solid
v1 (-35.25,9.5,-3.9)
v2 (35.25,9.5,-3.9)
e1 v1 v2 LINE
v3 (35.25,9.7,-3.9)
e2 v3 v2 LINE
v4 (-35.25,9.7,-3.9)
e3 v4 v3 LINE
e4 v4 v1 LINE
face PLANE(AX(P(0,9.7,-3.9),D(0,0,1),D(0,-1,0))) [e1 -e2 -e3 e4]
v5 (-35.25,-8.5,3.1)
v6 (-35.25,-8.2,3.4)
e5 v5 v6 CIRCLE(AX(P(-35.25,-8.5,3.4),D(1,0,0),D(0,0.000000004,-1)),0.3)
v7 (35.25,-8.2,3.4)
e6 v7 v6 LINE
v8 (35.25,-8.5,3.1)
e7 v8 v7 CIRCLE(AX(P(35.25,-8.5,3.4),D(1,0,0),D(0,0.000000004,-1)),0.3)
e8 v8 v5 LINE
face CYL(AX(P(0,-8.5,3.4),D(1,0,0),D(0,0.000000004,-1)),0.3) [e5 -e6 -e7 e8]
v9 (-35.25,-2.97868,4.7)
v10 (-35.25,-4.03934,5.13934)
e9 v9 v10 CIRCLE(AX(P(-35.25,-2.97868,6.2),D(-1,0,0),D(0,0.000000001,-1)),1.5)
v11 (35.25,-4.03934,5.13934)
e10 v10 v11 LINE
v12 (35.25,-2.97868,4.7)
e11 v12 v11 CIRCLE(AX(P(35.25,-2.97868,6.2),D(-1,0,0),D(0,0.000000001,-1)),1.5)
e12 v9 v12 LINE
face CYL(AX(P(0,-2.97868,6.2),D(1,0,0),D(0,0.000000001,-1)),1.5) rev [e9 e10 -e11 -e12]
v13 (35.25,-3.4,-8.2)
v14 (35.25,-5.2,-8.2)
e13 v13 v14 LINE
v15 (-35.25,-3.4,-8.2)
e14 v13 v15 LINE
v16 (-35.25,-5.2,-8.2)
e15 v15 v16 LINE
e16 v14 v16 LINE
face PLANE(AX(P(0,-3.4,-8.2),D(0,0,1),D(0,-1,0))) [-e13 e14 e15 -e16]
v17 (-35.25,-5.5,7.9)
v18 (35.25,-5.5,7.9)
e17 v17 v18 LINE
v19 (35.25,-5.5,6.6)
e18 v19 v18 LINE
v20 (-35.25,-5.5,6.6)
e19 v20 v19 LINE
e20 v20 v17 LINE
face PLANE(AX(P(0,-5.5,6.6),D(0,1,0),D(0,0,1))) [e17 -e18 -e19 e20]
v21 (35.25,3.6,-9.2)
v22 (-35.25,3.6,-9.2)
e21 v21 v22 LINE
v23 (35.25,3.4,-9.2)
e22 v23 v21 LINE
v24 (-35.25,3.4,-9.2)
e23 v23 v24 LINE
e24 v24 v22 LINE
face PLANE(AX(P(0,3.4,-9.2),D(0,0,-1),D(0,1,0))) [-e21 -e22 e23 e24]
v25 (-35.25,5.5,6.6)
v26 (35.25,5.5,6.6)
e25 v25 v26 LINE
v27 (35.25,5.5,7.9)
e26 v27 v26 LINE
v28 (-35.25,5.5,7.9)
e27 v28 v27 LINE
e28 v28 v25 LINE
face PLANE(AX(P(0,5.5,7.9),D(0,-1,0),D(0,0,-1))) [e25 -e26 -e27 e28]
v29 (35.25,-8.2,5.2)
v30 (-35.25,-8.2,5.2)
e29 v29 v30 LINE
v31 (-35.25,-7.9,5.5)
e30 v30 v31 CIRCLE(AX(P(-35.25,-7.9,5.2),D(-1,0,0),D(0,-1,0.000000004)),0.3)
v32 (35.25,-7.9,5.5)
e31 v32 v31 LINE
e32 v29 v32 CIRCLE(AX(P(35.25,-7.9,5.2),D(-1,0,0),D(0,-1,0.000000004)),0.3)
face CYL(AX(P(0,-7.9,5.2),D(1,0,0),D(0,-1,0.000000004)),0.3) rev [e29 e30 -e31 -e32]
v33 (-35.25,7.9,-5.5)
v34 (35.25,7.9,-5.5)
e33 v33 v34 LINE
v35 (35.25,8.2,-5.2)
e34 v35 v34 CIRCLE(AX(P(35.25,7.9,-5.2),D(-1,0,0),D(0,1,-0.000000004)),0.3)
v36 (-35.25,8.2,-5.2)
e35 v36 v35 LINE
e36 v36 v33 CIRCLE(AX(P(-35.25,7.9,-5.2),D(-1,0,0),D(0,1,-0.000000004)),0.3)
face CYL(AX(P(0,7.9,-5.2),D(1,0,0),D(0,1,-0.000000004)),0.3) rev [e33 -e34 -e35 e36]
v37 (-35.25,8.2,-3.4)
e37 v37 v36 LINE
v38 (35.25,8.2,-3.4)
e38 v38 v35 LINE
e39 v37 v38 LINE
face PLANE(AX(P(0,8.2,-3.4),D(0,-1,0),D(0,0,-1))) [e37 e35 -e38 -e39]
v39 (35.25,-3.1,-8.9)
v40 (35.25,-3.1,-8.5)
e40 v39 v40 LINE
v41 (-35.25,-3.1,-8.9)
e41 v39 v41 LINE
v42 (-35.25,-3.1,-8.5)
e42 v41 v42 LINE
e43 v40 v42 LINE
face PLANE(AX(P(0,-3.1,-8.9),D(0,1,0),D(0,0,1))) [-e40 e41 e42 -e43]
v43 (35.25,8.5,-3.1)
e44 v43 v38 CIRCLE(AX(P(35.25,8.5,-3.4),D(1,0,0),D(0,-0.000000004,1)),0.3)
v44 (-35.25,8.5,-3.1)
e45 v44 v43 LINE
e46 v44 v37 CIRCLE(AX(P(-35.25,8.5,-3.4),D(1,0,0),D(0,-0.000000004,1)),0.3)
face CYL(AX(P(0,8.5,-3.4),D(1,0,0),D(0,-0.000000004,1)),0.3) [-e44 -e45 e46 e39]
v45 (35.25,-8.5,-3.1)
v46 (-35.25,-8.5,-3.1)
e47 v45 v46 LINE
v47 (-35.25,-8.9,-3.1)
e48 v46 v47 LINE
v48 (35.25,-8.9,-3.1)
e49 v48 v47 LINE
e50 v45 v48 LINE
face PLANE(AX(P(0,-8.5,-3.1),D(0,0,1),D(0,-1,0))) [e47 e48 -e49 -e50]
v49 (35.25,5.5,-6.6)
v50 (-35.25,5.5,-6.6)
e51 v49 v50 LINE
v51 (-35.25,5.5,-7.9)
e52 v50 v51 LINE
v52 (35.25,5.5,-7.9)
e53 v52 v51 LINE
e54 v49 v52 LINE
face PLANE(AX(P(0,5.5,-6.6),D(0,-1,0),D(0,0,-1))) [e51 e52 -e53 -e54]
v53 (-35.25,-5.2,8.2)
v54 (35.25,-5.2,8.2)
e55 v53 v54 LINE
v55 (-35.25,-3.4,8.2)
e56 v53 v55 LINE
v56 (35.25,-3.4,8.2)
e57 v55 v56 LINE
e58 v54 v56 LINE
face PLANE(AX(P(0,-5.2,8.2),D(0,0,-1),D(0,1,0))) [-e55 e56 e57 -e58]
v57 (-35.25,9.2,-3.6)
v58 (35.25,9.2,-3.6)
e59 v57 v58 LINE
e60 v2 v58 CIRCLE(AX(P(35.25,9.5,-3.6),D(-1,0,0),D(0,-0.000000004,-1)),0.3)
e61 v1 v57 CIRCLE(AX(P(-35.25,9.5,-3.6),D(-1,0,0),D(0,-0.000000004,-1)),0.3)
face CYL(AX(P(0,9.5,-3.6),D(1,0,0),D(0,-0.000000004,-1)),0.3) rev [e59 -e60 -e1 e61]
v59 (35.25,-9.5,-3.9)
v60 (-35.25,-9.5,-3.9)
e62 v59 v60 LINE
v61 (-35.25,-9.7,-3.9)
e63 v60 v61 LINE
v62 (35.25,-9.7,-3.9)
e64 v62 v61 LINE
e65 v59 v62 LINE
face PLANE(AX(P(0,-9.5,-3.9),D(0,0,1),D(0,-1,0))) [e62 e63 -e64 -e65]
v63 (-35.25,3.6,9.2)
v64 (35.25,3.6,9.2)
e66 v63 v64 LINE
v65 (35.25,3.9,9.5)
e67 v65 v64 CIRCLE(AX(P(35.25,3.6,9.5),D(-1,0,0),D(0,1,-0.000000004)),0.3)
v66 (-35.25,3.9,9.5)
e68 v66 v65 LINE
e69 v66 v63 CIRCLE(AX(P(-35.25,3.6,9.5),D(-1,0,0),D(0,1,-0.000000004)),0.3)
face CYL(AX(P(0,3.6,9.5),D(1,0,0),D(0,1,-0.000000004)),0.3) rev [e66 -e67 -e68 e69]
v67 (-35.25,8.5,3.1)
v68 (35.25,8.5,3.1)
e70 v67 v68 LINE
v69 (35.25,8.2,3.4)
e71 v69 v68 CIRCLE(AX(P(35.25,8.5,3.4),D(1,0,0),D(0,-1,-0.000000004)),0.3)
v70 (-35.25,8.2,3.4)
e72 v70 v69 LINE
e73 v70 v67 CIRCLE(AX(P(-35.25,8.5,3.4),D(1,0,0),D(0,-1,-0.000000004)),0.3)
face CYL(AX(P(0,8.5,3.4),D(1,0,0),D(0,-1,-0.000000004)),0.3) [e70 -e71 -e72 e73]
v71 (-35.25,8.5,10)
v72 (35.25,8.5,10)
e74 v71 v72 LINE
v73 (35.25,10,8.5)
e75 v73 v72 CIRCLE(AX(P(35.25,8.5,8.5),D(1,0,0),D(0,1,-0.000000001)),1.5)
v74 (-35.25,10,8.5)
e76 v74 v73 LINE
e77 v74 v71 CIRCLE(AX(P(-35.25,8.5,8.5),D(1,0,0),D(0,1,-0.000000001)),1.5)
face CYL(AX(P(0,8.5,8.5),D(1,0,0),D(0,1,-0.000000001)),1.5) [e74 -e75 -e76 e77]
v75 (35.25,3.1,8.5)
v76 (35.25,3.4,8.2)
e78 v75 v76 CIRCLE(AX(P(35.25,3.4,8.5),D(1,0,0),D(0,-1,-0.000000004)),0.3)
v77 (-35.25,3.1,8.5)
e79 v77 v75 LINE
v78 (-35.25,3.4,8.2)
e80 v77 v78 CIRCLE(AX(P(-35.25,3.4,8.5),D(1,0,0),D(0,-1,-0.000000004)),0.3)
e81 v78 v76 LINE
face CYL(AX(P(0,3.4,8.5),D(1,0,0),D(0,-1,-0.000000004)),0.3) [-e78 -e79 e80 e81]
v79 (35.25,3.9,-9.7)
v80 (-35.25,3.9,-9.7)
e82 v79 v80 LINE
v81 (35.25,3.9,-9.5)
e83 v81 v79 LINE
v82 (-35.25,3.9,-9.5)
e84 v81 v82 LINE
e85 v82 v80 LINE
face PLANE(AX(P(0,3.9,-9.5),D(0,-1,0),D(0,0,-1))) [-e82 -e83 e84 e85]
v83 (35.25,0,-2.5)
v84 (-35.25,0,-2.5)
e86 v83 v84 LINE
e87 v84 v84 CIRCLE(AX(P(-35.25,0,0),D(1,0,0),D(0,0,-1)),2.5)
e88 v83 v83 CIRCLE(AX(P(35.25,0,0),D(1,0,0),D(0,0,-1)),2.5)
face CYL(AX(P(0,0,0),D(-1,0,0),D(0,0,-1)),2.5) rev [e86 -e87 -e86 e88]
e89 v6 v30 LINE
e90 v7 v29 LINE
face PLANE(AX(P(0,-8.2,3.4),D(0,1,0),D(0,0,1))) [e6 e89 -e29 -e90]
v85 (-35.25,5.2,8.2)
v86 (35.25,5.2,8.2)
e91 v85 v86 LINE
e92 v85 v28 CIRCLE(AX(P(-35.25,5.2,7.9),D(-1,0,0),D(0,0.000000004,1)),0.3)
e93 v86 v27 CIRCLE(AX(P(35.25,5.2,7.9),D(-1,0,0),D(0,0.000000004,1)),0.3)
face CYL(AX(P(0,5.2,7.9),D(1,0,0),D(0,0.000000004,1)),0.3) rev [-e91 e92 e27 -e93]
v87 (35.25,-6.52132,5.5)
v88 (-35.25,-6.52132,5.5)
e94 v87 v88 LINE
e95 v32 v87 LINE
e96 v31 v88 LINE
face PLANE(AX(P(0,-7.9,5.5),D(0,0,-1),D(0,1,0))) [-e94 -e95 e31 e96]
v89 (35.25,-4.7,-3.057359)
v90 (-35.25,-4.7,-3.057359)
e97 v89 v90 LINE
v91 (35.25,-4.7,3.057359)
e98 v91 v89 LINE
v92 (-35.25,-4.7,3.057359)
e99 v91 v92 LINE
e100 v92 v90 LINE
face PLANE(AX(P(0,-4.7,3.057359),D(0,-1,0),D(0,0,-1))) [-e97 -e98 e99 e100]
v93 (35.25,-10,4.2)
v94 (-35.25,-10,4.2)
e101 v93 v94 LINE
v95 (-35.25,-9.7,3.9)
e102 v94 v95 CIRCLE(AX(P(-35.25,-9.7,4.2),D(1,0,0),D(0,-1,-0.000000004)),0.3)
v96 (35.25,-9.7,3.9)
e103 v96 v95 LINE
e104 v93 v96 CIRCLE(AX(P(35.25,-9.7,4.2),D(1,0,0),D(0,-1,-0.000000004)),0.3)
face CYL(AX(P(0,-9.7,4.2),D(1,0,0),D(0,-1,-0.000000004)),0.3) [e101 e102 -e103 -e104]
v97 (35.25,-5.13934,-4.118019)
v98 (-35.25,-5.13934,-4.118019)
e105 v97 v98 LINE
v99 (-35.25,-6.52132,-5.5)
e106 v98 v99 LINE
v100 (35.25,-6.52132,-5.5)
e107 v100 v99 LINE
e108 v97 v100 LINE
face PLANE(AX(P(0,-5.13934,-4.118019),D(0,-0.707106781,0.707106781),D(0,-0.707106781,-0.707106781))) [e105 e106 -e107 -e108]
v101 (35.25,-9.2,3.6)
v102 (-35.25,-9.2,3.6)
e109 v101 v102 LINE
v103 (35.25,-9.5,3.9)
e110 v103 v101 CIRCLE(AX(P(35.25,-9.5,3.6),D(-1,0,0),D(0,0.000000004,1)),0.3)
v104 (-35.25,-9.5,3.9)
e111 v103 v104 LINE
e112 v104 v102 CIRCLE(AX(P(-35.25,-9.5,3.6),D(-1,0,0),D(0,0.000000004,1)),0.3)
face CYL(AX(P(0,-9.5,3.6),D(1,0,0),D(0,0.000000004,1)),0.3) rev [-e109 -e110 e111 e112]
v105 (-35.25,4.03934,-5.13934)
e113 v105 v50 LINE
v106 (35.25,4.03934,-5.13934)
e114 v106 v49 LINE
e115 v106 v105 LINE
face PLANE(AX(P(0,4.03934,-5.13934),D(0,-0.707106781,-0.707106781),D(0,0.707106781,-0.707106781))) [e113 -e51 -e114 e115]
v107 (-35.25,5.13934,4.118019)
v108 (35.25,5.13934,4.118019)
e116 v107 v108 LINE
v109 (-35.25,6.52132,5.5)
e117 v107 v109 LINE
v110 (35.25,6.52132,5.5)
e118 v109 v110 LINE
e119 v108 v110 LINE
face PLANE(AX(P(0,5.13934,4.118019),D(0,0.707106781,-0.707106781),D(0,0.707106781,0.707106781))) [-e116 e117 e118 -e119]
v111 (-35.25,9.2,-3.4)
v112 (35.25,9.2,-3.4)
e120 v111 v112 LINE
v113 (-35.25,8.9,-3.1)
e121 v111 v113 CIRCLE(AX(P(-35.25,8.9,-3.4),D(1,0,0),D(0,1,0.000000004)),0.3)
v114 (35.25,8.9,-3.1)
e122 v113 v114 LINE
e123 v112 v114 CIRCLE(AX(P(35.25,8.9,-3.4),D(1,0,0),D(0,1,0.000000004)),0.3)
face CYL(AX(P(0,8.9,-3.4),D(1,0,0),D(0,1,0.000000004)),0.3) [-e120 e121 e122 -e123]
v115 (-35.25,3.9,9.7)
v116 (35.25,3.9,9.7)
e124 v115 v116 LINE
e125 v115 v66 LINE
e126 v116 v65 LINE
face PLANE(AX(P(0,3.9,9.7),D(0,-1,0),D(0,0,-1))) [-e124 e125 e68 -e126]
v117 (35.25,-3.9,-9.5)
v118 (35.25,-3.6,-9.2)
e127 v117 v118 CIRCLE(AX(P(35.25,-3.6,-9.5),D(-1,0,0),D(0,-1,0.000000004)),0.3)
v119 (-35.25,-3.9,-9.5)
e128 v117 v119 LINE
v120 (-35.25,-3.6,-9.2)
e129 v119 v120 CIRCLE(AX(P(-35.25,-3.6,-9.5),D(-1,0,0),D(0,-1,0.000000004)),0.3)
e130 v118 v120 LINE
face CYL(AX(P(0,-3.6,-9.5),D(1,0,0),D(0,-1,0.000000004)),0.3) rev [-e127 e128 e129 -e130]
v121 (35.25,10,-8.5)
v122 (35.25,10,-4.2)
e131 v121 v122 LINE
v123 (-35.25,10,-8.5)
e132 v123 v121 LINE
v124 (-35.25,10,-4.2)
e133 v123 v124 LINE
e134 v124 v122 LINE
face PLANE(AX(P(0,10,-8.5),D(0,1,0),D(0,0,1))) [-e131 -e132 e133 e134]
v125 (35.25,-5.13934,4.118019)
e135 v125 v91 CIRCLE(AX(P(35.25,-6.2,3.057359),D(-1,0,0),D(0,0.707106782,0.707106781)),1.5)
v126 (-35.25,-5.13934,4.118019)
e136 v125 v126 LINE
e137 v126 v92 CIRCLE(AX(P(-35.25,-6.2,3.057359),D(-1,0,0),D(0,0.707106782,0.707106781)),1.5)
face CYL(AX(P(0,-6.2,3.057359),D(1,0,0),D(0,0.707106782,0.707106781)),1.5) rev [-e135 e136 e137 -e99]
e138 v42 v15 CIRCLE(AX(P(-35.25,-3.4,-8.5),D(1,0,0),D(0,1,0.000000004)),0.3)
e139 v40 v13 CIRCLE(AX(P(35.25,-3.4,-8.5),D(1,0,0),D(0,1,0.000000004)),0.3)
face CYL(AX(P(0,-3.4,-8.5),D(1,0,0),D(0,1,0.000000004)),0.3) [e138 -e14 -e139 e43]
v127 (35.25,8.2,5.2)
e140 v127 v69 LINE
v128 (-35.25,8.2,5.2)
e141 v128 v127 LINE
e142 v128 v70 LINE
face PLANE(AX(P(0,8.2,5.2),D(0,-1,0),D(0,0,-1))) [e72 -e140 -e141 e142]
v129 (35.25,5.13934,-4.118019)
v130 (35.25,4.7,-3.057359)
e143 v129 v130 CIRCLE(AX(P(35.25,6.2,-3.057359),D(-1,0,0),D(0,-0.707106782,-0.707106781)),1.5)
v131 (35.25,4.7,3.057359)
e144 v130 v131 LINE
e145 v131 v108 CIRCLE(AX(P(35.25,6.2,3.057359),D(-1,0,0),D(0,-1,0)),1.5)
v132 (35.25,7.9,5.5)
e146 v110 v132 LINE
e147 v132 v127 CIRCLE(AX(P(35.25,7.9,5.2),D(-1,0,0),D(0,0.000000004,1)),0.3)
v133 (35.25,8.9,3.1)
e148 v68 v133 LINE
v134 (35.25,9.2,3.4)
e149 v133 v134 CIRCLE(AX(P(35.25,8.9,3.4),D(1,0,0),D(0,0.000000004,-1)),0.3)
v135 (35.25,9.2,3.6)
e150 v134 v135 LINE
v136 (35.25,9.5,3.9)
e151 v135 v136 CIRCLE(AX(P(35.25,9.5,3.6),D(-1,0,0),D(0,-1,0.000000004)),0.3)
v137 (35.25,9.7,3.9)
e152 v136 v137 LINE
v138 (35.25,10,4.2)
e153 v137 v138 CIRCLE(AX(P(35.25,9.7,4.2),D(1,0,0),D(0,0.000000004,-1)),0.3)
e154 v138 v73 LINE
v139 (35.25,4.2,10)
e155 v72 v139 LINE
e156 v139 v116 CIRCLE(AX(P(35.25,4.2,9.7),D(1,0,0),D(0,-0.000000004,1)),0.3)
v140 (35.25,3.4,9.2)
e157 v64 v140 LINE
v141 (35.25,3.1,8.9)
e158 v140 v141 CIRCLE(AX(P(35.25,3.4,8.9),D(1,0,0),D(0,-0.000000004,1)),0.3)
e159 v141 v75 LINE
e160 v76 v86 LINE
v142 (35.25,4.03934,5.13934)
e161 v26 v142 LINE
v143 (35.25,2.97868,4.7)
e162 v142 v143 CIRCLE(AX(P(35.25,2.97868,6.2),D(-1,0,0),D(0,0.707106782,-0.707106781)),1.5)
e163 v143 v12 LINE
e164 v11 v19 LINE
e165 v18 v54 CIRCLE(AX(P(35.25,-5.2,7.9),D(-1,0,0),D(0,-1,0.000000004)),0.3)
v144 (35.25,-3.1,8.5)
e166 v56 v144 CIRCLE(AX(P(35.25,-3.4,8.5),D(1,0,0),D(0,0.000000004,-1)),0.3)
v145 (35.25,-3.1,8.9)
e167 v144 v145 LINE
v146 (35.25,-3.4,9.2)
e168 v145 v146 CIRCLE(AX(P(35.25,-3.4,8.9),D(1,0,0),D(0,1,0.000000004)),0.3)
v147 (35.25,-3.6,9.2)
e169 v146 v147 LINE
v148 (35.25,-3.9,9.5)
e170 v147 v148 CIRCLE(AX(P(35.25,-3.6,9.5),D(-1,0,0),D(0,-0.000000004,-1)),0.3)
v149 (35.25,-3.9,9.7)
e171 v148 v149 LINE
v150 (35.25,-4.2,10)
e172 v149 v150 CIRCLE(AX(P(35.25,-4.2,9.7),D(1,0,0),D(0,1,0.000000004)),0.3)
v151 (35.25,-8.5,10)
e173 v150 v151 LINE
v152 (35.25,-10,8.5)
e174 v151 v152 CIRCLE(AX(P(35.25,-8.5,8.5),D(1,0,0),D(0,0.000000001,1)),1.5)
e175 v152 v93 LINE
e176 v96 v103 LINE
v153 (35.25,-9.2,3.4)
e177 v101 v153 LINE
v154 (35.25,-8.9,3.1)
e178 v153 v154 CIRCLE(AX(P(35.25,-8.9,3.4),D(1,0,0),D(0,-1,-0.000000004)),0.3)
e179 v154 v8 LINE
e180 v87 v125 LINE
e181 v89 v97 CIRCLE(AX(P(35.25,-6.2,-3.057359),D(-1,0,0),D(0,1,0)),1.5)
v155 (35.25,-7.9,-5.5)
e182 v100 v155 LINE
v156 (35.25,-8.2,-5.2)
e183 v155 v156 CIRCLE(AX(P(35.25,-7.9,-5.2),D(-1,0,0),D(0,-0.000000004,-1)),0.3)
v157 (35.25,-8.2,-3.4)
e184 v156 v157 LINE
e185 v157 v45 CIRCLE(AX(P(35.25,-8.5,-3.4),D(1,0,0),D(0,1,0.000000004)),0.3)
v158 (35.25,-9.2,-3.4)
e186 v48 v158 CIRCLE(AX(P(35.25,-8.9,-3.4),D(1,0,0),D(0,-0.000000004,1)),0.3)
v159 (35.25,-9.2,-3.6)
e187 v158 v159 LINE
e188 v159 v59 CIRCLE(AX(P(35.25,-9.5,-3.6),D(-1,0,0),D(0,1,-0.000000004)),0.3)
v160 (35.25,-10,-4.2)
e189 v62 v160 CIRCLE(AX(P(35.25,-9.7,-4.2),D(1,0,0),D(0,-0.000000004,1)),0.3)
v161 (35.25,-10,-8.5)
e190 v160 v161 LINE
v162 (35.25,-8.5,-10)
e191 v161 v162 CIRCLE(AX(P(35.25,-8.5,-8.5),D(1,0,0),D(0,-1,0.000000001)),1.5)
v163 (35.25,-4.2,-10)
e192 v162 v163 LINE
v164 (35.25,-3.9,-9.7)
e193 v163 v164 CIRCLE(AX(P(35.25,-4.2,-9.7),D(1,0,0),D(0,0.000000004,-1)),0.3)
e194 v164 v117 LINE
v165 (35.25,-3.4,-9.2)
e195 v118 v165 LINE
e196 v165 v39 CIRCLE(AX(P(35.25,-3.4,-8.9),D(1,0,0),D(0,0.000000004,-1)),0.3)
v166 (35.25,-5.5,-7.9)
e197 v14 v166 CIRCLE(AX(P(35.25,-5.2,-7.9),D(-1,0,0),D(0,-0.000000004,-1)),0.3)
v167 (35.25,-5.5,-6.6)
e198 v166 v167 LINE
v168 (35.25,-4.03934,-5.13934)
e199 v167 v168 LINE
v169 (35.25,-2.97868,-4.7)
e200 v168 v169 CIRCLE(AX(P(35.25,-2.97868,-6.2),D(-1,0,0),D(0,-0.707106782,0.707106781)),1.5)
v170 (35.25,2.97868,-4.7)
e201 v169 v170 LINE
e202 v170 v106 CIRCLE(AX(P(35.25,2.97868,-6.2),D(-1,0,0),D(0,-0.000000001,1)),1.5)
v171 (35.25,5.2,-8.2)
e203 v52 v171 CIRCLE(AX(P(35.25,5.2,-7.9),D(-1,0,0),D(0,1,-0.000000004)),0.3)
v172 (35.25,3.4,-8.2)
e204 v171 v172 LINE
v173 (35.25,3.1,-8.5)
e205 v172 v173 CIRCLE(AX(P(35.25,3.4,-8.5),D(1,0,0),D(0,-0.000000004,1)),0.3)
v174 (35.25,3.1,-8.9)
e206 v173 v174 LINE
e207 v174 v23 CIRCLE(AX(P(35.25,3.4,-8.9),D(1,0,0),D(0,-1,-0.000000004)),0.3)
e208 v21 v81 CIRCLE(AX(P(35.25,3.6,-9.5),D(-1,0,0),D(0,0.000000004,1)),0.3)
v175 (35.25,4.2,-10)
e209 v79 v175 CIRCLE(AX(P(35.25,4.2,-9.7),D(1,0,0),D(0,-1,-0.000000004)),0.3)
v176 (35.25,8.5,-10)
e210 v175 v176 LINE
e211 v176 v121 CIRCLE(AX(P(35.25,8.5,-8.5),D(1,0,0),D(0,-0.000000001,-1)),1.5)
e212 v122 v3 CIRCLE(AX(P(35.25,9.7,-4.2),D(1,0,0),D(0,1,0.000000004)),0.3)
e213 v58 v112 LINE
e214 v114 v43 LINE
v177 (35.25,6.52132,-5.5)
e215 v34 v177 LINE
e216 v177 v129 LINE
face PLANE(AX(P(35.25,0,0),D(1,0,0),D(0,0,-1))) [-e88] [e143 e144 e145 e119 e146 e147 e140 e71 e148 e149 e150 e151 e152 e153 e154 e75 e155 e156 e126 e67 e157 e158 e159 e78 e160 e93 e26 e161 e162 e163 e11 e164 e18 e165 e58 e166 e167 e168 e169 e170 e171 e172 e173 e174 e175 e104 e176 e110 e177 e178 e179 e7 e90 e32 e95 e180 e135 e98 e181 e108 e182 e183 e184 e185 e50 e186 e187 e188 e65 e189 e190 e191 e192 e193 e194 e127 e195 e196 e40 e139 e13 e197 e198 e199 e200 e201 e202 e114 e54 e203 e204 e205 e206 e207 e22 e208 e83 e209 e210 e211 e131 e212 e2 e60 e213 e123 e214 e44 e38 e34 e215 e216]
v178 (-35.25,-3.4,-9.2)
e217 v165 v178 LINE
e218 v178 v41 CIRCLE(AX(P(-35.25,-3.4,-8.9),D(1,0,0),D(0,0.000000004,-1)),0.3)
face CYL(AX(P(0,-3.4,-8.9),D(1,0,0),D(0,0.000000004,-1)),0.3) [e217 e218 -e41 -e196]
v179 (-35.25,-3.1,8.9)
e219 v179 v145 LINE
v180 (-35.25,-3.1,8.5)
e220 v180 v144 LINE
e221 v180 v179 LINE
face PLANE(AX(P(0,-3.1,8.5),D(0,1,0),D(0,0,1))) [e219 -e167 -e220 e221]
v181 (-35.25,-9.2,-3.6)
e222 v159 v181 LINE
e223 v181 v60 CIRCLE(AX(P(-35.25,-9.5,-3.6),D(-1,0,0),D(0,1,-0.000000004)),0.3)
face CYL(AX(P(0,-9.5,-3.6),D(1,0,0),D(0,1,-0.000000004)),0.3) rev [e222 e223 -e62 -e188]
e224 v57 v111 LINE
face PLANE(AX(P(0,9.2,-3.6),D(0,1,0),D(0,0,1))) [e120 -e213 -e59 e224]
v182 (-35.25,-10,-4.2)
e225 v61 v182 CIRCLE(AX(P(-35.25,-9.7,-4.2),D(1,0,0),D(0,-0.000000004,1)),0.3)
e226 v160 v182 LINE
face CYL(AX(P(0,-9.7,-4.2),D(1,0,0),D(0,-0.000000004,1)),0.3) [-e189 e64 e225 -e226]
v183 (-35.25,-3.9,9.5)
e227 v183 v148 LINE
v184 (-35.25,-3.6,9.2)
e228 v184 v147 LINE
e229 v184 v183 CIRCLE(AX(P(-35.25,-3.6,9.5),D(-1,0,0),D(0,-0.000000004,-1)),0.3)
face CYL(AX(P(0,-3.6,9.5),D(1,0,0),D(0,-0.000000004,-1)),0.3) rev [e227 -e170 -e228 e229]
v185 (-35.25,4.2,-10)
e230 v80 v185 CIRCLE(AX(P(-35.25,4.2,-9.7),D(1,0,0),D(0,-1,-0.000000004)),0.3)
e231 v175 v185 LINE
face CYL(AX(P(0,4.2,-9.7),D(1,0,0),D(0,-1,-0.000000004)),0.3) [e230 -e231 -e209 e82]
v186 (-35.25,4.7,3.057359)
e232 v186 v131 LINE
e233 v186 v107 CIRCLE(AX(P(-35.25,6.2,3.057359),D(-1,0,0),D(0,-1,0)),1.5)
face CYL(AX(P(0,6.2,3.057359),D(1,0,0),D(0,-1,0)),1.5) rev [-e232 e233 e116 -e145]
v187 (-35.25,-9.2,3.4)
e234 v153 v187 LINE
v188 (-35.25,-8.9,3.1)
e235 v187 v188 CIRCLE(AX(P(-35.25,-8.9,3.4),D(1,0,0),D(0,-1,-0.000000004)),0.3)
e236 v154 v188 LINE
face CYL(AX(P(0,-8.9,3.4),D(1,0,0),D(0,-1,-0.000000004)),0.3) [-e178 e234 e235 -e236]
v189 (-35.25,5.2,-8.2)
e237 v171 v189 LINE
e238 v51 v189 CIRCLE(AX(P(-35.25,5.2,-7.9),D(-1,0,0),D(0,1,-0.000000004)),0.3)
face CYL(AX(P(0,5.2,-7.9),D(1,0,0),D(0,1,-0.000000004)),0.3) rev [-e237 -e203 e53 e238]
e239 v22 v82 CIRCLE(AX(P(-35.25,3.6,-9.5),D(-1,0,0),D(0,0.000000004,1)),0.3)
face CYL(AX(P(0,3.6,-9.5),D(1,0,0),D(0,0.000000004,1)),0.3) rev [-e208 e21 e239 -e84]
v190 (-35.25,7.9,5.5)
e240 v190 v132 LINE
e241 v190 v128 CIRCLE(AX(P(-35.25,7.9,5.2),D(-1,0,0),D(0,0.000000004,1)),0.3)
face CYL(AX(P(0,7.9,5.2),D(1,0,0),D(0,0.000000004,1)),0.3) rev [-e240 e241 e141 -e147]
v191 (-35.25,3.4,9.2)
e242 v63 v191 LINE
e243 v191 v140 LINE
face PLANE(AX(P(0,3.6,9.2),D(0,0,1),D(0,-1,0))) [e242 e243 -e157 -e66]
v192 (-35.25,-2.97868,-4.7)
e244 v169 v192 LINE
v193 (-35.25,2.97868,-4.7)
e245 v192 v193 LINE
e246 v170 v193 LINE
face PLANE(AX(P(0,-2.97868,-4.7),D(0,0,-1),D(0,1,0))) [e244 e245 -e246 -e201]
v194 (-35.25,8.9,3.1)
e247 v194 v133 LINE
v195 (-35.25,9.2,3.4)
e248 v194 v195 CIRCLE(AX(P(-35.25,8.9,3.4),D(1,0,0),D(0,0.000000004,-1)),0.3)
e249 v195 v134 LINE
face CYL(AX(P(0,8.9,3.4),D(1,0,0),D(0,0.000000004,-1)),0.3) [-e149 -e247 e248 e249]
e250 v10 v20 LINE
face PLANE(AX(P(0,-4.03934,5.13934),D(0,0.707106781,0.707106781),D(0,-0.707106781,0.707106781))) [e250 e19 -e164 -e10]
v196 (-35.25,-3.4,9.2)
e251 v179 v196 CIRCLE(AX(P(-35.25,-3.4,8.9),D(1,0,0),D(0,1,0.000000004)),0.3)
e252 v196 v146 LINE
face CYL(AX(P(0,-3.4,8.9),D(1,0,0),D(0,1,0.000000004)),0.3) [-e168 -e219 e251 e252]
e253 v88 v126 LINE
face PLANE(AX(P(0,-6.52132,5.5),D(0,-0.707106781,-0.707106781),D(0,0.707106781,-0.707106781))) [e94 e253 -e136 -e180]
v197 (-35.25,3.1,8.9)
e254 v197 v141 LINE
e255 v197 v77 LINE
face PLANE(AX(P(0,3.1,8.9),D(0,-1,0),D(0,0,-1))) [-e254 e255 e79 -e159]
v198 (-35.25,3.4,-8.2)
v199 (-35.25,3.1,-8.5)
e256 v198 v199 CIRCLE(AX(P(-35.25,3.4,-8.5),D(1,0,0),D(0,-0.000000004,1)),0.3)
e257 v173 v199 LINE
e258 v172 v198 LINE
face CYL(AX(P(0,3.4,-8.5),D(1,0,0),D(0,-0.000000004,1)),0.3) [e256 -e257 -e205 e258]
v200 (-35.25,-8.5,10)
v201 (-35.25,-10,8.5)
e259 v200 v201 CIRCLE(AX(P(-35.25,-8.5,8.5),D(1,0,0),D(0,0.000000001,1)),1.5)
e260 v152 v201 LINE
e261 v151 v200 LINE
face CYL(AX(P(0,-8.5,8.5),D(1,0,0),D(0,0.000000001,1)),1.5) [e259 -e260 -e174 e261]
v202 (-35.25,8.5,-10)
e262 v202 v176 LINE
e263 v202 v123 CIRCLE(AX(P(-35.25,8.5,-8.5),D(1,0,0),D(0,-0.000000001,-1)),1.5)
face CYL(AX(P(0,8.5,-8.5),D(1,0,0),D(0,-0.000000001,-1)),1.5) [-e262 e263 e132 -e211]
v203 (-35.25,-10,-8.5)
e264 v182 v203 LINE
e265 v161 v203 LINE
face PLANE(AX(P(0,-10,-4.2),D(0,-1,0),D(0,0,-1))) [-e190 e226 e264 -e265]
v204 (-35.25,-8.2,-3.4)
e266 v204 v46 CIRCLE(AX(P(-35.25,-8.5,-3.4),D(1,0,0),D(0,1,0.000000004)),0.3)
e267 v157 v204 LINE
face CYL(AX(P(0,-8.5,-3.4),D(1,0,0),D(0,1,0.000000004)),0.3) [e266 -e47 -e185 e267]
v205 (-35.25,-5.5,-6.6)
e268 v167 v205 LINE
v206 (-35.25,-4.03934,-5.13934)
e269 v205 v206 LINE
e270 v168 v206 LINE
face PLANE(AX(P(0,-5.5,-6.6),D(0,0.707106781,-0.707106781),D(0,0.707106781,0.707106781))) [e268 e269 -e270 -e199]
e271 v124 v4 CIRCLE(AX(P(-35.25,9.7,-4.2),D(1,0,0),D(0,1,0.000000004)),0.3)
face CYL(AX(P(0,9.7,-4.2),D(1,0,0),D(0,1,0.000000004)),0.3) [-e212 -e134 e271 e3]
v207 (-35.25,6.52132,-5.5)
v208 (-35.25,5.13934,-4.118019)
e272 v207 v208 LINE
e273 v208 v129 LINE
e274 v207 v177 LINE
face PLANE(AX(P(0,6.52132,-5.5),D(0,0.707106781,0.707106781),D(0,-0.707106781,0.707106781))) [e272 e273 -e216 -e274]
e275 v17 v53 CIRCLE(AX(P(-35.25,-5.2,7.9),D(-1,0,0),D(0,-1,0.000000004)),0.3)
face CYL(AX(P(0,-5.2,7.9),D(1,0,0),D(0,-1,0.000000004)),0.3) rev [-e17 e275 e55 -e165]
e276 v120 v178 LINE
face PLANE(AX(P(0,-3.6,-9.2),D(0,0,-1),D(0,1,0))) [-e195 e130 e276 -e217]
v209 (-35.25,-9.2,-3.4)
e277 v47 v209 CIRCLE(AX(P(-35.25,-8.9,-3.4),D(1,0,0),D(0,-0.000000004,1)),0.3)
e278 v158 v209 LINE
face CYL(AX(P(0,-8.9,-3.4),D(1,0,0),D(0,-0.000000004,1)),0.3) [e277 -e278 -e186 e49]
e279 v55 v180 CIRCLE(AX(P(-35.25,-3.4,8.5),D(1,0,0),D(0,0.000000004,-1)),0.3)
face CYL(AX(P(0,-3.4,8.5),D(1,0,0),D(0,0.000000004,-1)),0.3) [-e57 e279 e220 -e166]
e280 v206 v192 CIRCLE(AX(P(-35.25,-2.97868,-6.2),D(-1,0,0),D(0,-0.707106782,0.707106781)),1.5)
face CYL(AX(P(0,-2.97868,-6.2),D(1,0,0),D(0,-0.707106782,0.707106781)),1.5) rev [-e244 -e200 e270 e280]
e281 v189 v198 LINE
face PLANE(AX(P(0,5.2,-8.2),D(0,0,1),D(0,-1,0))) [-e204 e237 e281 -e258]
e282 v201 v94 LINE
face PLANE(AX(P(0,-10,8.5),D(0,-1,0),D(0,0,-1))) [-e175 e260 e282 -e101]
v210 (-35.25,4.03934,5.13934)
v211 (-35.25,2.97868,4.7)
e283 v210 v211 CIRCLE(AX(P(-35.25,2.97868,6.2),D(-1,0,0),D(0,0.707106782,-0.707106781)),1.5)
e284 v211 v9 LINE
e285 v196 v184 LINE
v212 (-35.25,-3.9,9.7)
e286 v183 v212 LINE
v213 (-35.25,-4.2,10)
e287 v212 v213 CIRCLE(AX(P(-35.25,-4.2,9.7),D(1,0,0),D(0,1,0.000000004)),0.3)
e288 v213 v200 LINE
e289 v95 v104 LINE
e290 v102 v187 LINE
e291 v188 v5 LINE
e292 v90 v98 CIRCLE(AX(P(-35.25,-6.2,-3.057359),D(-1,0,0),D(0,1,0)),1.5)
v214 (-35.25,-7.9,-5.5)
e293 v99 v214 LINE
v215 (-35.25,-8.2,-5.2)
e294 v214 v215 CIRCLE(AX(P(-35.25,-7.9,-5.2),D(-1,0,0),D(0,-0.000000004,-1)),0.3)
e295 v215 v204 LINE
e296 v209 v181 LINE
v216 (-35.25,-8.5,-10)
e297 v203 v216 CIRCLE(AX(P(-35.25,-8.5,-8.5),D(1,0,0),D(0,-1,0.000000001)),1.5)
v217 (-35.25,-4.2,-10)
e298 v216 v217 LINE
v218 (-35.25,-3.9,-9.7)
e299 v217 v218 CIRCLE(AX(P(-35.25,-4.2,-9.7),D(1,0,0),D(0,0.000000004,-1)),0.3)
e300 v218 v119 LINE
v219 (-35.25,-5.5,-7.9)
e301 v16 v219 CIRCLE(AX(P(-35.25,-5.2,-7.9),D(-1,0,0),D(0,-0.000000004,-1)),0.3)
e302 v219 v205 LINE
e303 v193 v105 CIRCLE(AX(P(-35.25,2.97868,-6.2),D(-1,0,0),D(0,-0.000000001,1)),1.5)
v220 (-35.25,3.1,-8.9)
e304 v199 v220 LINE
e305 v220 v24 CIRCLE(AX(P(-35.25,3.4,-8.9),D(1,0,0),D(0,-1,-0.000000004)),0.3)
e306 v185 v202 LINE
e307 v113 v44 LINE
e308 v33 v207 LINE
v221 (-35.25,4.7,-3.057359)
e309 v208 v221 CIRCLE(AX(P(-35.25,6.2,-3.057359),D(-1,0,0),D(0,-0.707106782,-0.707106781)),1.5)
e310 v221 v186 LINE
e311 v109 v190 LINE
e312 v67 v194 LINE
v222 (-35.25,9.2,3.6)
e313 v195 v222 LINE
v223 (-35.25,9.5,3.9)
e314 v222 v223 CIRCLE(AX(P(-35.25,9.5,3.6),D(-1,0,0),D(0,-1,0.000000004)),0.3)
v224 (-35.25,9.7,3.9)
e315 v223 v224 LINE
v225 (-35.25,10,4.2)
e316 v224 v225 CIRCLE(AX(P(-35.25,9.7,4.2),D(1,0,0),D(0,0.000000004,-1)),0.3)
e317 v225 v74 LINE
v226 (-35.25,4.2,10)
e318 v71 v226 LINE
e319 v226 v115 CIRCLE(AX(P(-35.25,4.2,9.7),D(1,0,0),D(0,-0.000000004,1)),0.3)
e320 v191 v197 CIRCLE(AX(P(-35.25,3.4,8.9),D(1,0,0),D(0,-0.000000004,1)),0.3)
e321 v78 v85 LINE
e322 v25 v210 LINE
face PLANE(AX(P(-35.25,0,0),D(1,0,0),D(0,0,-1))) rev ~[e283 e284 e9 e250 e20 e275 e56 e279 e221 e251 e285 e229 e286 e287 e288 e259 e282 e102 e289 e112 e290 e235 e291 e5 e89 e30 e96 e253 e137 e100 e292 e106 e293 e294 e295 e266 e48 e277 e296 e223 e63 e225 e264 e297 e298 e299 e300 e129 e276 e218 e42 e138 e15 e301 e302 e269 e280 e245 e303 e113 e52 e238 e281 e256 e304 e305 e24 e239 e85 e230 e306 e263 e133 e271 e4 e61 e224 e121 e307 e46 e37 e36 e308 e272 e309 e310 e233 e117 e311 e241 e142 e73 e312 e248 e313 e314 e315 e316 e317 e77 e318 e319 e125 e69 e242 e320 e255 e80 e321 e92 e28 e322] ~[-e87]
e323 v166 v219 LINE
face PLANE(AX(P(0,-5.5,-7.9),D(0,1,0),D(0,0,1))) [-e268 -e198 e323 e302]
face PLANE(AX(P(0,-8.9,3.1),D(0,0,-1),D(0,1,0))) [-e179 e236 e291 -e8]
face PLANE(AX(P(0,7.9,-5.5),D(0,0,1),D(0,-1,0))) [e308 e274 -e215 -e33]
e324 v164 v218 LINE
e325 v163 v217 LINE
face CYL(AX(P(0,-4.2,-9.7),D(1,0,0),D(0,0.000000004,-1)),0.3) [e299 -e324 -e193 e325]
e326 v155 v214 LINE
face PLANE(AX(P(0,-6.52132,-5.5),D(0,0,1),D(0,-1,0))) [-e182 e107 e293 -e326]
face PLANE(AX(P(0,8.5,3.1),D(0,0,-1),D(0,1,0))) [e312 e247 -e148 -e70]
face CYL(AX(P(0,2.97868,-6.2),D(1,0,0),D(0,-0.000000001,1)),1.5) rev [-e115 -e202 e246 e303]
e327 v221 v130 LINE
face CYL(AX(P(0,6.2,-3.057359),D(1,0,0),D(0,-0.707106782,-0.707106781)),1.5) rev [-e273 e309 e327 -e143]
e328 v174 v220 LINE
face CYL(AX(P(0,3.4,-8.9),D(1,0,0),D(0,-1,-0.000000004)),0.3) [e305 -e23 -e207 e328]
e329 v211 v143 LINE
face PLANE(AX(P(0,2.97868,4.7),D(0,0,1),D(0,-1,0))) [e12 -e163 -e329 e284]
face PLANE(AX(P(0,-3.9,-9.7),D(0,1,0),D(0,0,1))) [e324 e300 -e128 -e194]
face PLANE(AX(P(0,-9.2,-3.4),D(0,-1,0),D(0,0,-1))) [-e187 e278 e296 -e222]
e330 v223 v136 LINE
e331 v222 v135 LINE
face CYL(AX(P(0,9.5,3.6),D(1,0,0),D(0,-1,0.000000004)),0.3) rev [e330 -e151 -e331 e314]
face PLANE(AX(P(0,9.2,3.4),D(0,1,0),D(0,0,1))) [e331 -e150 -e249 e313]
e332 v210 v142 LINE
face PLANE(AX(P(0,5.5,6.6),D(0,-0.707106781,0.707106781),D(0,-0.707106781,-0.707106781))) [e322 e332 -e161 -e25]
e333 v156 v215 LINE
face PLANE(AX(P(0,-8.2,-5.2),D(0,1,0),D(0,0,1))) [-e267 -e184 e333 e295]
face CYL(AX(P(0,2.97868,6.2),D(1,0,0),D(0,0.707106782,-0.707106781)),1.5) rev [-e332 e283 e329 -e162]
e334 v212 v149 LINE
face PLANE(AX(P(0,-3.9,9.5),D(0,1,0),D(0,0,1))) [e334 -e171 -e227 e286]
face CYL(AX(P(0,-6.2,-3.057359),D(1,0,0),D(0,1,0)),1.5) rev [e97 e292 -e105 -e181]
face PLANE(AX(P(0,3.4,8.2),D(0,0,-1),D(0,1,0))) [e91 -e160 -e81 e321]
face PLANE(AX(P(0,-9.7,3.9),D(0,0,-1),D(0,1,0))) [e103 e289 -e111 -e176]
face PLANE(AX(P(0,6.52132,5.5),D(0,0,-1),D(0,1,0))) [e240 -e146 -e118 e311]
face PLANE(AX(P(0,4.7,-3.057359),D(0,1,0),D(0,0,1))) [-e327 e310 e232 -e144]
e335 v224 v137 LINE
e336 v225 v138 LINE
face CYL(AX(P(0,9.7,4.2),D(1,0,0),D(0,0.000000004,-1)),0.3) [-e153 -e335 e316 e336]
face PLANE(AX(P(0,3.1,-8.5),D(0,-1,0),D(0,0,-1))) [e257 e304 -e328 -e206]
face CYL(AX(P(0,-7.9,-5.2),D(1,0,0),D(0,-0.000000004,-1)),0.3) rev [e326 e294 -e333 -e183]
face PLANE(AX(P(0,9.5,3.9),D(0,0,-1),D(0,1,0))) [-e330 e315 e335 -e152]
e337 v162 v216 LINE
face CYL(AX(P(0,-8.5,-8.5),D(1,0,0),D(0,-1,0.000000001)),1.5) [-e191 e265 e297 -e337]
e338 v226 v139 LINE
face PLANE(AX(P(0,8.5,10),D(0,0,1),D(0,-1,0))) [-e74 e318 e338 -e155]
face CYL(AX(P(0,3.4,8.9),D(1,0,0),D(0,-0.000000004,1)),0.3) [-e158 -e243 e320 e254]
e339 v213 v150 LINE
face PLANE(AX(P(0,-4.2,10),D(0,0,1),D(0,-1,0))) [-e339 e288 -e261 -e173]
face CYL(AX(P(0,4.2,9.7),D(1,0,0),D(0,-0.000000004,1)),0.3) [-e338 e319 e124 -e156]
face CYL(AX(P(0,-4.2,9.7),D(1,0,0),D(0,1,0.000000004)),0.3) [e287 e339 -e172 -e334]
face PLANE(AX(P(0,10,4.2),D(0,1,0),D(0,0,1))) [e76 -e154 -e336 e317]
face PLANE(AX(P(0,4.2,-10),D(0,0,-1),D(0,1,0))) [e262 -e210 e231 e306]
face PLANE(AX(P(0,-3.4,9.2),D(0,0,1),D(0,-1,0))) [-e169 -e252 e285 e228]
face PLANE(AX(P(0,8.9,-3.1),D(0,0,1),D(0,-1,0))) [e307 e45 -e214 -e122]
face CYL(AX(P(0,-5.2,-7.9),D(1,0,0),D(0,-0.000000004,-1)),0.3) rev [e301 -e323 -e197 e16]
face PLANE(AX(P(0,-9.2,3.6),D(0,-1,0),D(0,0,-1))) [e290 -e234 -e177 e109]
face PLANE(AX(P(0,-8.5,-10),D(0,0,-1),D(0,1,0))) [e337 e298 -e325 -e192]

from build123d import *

# Parameters (mm, degrees)
SKETCH1_R           = 2.5
BOSS_EXTRUDE2_DEPTH = 35.25


with BuildPart() as part:
    # Sketch1 → Boss-Extrude2 (new, symmetric)
    with BuildSketch(Plane(origin=(0, 0, 0), x_dir=(0, 0, -1), z_dir=(1, 0, 0))):
        with BuildLine():
            Line((10, 4.2), (10, 8.5))
            ThreePointArc((10, 8.5), (9.560660172, 9.560660172), (8.5, 10))
            Line((8.5, 10), (4.2, 10))
            ThreePointArc((4.2, 10), (3.987867966, 9.912132034), (3.9, 9.7))
            Line((3.9, 9.7), (3.9, 9.5))
            ThreePointArc((3.9, 9.5), (3.812132034, 9.287867966), (3.6, 9.2))
            Line((3.6, 9.2), (3.4, 9.2))
            ThreePointArc((3.4, 9.2), (3.187867966, 9.112132034), (3.1, 8.9))
            Line((3.1, 8.9), (3.1, 8.5))
            ThreePointArc((3.1, 8.5), (3.187867966, 8.287867966), (3.4, 8.2))
            Line((3.4, 8.2), (5.2, 8.2))
            ThreePointArc((5.2, 8.2), (5.412132034, 8.112132034), (5.5, 7.9))
            Line((5.5, 7.9), (5.5, 6.521320344))
            Line((5.5, 6.521320344), (4.118019485, 5.139339828))
            ThreePointArc((4.118019485, 5.139339828), (3.631384461, 4.814180701), (3.057359313, 4.7))
            Line((3.057359313, 4.7), (-3.057359313, 4.7))
            ThreePointArc((-3.057359313, 4.7), (-3.631384461, 4.814180701), (-4.118019485, 5.139339828))
            Line((-4.118019485, 5.139339828), (-5.5, 6.521320344))
            Line((-5.5, 6.521320344), (-5.5, 7.9))
            ThreePointArc((-5.5, 7.9), (-5.412132034, 8.112132034), (-5.2, 8.2))
            Line((-5.2, 8.2), (-3.4, 8.2))
            ThreePointArc((-3.4, 8.2), (-3.187867966, 8.287867966), (-3.1, 8.5))
            Line((-3.1, 8.5), (-3.1, 8.9))
            ThreePointArc((-3.1, 8.9), (-3.187867966, 9.112132034), (-3.4, 9.2))
            Line((-3.4, 9.2), (-3.6, 9.2))
            ThreePointArc((-3.6, 9.2), (-3.812132034, 9.287867966), (-3.9, 9.5))
            Line((-3.9, 9.5), (-3.9, 9.7))
            ThreePointArc((-3.9, 9.7), (-3.987867966, 9.912132034), (-4.2, 10))
            Line((-4.2, 10), (-8.5, 10))
            ThreePointArc((-8.5, 10), (-9.560660172, 9.560660172), (-10, 8.5))
            Line((-10, 8.5), (-10, 4.2))
            ThreePointArc((-10, 4.2), (-9.912132034, 3.987867966), (-9.7, 3.9))
            Line((-9.7, 3.9), (-9.5, 3.9))
            ThreePointArc((-9.5, 3.9), (-9.287867966, 3.812132034), (-9.2, 3.6))
            Line((-9.2, 3.6), (-9.2, 3.4))
            ThreePointArc((-9.2, 3.4), (-9.112132034, 3.187867966), (-8.9, 3.1))
            Line((-8.9, 3.1), (-8.5, 3.1))
            ThreePointArc((-8.5, 3.1), (-8.287867966, 3.187867966), (-8.2, 3.4))
            Line((-8.2, 3.4), (-8.2, 5.2))
            ThreePointArc((-8.2, 5.2), (-8.112132034, 5.412132034), (-7.9, 5.5))
            Line((-7.9, 5.5), (-6.6, 5.5))
            Line((-6.6, 5.5), (-5.139339828, 4.039339828))
            ThreePointArc((-5.139339828, 4.039339828), (-4.814180701, 3.552704805), (-4.7, 2.978679656))
            Line((-4.7, 2.978679656), (-4.7, -2.978679656))
            ThreePointArc((-4.7, -2.978679656), (-4.814180701, -3.552704805), (-5.139339828, -4.039339828))
            Line((-5.139339828, -4.039339828), (-6.6, -5.5))
            Line((-6.6, -5.5), (-7.9, -5.5))
            ThreePointArc((-7.9, -5.5), (-8.112132034, -5.412132034), (-8.2, -5.2))
            Line((-8.2, -5.2), (-8.2, -3.4))
            ThreePointArc((-8.2, -3.4), (-8.287867966, -3.187867966), (-8.5, -3.1))
            Line((-8.5, -3.1), (-8.9, -3.1))
            ThreePointArc((-8.9, -3.1), (-9.112132034, -3.187867966), (-9.2, -3.4))
            Line((-9.2, -3.4), (-9.2, -3.6))
            ThreePointArc((-9.2, -3.6), (-9.287867966, -3.812132034), (-9.5, -3.9))
            Line((-9.5, -3.9), (-9.7, -3.9))
            ThreePointArc((-9.7, -3.9), (-9.912132034, -3.987867966), (-10, -4.2))
            Line((-10, -4.2), (-10, -8.5))
            ThreePointArc((-10, -8.5), (-9.560660172, -9.560660172), (-8.5, -10))
            Line((-8.5, -10), (-4.2, -10))
            ThreePointArc((-4.2, -10), (-3.987867966, -9.912132034), (-3.9, -9.7))
            Line((-3.9, -9.7), (-3.9, -9.5))
            ThreePointArc((-3.9, -9.5), (-3.812132034, -9.287867966), (-3.6, -9.2))
            Line((-3.6, -9.2), (-3.4, -9.2))
            ThreePointArc((-3.4, -9.2), (-3.187867966, -9.112132034), (-3.1, -8.9))
            Line((-3.1, -8.9), (-3.1, -8.5))
            ThreePointArc((-3.1, -8.5), (-3.187867966, -8.287867966), (-3.4, -8.2))
            Line((-3.4, -8.2), (-5.2, -8.2))
            ThreePointArc((-5.2, -8.2), (-5.412132034, -8.112132034), (-5.5, -7.9))
            Line((-5.5, -7.9), (-5.5, -6.521320344))
            Line((-5.5, -6.521320344), (-4.118019485, -5.139339828))
            ThreePointArc((-4.118019485, -5.139339828), (-3.631384461, -4.814180701), (-3.057359313, -4.7))
            Line((-3.057359313, -4.7), (3.057359313, -4.7))
            ThreePointArc((3.057359313, -4.7), (3.631384461, -4.814180701), (4.118019485, -5.139339828))
            Line((4.118019485, -5.139339828), (5.5, -6.521320344))
            Line((5.5, -6.521320344), (5.5, -7.9))
            ThreePointArc((5.5, -7.9), (5.412132034, -8.112132034), (5.2, -8.2))
            Line((5.2, -8.2), (3.4, -8.2))
            ThreePointArc((3.4, -8.2), (3.187867966, -8.287867966), (3.1, -8.5))
            Line((3.1, -8.5), (3.1, -8.9))
            ThreePointArc((3.1, -8.9), (3.187867966, -9.112132034), (3.4, -9.2))
            Line((3.4, -9.2), (3.6, -9.2))
            ThreePointArc((3.6, -9.2), (3.812132034, -9.287867966), (3.9, -9.5))
            Line((3.9, -9.5), (3.9, -9.7))
            ThreePointArc((3.9, -9.7), (3.987867966, -9.912132034), (4.2, -10))
            Line((4.2, -10), (8.5, -10))
            ThreePointArc((8.5, -10), (9.560660172, -9.560660172), (10, -8.5))
            Line((10, -8.5), (10, -4.2))
            ThreePointArc((10, -4.2), (9.912132034, -3.987867966), (9.7, -3.9))
            Line((9.7, -3.9), (9.5, -3.9))
            ThreePointArc((9.5, -3.9), (9.287867966, -3.812132034), (9.2, -3.6))
            Line((9.2, -3.6), (9.2, -3.4))
            ThreePointArc((9.2, -3.4), (9.112132034, -3.187867966), (8.9, -3.1))
            Line((8.9, -3.1), (8.5, -3.1))
            ThreePointArc((8.5, -3.1), (8.287867966, -3.187867966), (8.2, -3.4))
            Line((8.2, -3.4), (8.2, -5.2))
            ThreePointArc((8.2, -5.2), (8.112132034, -5.412132034), (7.9, -5.5))
            Line((7.9, -5.5), (6.6, -5.5))
            Line((6.6, -5.5), (5.139339828, -4.039339828))
            ThreePointArc((5.139339828, -4.039339828), (4.814180701, -3.552704805), (4.7, -2.978679656))
            Line((4.7, -2.978679656), (4.7, 2.978679656))
            ThreePointArc((4.7, 2.978679656), (4.814180701, 3.552704805), (5.139339828, 4.039339828))
            Line((5.139339828, 4.039339828), (6.6, 5.5))
            Line((6.6, 5.5), (7.9, 5.5))
            ThreePointArc((7.9, 5.5), (8.112132034, 5.412132034), (8.2, 5.2))
            Line((8.2, 5.2), (8.2, 3.4))
            ThreePointArc((8.2, 3.4), (8.287867966, 3.187867966), (8.5, 3.1))
            Line((8.5, 3.1), (8.9, 3.1))
            ThreePointArc((8.9, 3.1), (9.112132034, 3.187867966), (9.2, 3.4))
            Line((9.2, 3.4), (9.2, 3.6))
            ThreePointArc((9.2, 3.6), (9.287867966, 3.812132034), (9.5, 3.9))
            Line((9.5, 3.9), (9.7, 3.9))
            ThreePointArc((9.7, 3.9), (9.912132034, 3.987867966), (10, 4.2))
        make_face()
        Circle(SKETCH1_R, mode=Mode.SUBTRACT)
    extrude(amount=BOSS_EXTRUDE2_DEPTH, both=True)


solid = part.part
